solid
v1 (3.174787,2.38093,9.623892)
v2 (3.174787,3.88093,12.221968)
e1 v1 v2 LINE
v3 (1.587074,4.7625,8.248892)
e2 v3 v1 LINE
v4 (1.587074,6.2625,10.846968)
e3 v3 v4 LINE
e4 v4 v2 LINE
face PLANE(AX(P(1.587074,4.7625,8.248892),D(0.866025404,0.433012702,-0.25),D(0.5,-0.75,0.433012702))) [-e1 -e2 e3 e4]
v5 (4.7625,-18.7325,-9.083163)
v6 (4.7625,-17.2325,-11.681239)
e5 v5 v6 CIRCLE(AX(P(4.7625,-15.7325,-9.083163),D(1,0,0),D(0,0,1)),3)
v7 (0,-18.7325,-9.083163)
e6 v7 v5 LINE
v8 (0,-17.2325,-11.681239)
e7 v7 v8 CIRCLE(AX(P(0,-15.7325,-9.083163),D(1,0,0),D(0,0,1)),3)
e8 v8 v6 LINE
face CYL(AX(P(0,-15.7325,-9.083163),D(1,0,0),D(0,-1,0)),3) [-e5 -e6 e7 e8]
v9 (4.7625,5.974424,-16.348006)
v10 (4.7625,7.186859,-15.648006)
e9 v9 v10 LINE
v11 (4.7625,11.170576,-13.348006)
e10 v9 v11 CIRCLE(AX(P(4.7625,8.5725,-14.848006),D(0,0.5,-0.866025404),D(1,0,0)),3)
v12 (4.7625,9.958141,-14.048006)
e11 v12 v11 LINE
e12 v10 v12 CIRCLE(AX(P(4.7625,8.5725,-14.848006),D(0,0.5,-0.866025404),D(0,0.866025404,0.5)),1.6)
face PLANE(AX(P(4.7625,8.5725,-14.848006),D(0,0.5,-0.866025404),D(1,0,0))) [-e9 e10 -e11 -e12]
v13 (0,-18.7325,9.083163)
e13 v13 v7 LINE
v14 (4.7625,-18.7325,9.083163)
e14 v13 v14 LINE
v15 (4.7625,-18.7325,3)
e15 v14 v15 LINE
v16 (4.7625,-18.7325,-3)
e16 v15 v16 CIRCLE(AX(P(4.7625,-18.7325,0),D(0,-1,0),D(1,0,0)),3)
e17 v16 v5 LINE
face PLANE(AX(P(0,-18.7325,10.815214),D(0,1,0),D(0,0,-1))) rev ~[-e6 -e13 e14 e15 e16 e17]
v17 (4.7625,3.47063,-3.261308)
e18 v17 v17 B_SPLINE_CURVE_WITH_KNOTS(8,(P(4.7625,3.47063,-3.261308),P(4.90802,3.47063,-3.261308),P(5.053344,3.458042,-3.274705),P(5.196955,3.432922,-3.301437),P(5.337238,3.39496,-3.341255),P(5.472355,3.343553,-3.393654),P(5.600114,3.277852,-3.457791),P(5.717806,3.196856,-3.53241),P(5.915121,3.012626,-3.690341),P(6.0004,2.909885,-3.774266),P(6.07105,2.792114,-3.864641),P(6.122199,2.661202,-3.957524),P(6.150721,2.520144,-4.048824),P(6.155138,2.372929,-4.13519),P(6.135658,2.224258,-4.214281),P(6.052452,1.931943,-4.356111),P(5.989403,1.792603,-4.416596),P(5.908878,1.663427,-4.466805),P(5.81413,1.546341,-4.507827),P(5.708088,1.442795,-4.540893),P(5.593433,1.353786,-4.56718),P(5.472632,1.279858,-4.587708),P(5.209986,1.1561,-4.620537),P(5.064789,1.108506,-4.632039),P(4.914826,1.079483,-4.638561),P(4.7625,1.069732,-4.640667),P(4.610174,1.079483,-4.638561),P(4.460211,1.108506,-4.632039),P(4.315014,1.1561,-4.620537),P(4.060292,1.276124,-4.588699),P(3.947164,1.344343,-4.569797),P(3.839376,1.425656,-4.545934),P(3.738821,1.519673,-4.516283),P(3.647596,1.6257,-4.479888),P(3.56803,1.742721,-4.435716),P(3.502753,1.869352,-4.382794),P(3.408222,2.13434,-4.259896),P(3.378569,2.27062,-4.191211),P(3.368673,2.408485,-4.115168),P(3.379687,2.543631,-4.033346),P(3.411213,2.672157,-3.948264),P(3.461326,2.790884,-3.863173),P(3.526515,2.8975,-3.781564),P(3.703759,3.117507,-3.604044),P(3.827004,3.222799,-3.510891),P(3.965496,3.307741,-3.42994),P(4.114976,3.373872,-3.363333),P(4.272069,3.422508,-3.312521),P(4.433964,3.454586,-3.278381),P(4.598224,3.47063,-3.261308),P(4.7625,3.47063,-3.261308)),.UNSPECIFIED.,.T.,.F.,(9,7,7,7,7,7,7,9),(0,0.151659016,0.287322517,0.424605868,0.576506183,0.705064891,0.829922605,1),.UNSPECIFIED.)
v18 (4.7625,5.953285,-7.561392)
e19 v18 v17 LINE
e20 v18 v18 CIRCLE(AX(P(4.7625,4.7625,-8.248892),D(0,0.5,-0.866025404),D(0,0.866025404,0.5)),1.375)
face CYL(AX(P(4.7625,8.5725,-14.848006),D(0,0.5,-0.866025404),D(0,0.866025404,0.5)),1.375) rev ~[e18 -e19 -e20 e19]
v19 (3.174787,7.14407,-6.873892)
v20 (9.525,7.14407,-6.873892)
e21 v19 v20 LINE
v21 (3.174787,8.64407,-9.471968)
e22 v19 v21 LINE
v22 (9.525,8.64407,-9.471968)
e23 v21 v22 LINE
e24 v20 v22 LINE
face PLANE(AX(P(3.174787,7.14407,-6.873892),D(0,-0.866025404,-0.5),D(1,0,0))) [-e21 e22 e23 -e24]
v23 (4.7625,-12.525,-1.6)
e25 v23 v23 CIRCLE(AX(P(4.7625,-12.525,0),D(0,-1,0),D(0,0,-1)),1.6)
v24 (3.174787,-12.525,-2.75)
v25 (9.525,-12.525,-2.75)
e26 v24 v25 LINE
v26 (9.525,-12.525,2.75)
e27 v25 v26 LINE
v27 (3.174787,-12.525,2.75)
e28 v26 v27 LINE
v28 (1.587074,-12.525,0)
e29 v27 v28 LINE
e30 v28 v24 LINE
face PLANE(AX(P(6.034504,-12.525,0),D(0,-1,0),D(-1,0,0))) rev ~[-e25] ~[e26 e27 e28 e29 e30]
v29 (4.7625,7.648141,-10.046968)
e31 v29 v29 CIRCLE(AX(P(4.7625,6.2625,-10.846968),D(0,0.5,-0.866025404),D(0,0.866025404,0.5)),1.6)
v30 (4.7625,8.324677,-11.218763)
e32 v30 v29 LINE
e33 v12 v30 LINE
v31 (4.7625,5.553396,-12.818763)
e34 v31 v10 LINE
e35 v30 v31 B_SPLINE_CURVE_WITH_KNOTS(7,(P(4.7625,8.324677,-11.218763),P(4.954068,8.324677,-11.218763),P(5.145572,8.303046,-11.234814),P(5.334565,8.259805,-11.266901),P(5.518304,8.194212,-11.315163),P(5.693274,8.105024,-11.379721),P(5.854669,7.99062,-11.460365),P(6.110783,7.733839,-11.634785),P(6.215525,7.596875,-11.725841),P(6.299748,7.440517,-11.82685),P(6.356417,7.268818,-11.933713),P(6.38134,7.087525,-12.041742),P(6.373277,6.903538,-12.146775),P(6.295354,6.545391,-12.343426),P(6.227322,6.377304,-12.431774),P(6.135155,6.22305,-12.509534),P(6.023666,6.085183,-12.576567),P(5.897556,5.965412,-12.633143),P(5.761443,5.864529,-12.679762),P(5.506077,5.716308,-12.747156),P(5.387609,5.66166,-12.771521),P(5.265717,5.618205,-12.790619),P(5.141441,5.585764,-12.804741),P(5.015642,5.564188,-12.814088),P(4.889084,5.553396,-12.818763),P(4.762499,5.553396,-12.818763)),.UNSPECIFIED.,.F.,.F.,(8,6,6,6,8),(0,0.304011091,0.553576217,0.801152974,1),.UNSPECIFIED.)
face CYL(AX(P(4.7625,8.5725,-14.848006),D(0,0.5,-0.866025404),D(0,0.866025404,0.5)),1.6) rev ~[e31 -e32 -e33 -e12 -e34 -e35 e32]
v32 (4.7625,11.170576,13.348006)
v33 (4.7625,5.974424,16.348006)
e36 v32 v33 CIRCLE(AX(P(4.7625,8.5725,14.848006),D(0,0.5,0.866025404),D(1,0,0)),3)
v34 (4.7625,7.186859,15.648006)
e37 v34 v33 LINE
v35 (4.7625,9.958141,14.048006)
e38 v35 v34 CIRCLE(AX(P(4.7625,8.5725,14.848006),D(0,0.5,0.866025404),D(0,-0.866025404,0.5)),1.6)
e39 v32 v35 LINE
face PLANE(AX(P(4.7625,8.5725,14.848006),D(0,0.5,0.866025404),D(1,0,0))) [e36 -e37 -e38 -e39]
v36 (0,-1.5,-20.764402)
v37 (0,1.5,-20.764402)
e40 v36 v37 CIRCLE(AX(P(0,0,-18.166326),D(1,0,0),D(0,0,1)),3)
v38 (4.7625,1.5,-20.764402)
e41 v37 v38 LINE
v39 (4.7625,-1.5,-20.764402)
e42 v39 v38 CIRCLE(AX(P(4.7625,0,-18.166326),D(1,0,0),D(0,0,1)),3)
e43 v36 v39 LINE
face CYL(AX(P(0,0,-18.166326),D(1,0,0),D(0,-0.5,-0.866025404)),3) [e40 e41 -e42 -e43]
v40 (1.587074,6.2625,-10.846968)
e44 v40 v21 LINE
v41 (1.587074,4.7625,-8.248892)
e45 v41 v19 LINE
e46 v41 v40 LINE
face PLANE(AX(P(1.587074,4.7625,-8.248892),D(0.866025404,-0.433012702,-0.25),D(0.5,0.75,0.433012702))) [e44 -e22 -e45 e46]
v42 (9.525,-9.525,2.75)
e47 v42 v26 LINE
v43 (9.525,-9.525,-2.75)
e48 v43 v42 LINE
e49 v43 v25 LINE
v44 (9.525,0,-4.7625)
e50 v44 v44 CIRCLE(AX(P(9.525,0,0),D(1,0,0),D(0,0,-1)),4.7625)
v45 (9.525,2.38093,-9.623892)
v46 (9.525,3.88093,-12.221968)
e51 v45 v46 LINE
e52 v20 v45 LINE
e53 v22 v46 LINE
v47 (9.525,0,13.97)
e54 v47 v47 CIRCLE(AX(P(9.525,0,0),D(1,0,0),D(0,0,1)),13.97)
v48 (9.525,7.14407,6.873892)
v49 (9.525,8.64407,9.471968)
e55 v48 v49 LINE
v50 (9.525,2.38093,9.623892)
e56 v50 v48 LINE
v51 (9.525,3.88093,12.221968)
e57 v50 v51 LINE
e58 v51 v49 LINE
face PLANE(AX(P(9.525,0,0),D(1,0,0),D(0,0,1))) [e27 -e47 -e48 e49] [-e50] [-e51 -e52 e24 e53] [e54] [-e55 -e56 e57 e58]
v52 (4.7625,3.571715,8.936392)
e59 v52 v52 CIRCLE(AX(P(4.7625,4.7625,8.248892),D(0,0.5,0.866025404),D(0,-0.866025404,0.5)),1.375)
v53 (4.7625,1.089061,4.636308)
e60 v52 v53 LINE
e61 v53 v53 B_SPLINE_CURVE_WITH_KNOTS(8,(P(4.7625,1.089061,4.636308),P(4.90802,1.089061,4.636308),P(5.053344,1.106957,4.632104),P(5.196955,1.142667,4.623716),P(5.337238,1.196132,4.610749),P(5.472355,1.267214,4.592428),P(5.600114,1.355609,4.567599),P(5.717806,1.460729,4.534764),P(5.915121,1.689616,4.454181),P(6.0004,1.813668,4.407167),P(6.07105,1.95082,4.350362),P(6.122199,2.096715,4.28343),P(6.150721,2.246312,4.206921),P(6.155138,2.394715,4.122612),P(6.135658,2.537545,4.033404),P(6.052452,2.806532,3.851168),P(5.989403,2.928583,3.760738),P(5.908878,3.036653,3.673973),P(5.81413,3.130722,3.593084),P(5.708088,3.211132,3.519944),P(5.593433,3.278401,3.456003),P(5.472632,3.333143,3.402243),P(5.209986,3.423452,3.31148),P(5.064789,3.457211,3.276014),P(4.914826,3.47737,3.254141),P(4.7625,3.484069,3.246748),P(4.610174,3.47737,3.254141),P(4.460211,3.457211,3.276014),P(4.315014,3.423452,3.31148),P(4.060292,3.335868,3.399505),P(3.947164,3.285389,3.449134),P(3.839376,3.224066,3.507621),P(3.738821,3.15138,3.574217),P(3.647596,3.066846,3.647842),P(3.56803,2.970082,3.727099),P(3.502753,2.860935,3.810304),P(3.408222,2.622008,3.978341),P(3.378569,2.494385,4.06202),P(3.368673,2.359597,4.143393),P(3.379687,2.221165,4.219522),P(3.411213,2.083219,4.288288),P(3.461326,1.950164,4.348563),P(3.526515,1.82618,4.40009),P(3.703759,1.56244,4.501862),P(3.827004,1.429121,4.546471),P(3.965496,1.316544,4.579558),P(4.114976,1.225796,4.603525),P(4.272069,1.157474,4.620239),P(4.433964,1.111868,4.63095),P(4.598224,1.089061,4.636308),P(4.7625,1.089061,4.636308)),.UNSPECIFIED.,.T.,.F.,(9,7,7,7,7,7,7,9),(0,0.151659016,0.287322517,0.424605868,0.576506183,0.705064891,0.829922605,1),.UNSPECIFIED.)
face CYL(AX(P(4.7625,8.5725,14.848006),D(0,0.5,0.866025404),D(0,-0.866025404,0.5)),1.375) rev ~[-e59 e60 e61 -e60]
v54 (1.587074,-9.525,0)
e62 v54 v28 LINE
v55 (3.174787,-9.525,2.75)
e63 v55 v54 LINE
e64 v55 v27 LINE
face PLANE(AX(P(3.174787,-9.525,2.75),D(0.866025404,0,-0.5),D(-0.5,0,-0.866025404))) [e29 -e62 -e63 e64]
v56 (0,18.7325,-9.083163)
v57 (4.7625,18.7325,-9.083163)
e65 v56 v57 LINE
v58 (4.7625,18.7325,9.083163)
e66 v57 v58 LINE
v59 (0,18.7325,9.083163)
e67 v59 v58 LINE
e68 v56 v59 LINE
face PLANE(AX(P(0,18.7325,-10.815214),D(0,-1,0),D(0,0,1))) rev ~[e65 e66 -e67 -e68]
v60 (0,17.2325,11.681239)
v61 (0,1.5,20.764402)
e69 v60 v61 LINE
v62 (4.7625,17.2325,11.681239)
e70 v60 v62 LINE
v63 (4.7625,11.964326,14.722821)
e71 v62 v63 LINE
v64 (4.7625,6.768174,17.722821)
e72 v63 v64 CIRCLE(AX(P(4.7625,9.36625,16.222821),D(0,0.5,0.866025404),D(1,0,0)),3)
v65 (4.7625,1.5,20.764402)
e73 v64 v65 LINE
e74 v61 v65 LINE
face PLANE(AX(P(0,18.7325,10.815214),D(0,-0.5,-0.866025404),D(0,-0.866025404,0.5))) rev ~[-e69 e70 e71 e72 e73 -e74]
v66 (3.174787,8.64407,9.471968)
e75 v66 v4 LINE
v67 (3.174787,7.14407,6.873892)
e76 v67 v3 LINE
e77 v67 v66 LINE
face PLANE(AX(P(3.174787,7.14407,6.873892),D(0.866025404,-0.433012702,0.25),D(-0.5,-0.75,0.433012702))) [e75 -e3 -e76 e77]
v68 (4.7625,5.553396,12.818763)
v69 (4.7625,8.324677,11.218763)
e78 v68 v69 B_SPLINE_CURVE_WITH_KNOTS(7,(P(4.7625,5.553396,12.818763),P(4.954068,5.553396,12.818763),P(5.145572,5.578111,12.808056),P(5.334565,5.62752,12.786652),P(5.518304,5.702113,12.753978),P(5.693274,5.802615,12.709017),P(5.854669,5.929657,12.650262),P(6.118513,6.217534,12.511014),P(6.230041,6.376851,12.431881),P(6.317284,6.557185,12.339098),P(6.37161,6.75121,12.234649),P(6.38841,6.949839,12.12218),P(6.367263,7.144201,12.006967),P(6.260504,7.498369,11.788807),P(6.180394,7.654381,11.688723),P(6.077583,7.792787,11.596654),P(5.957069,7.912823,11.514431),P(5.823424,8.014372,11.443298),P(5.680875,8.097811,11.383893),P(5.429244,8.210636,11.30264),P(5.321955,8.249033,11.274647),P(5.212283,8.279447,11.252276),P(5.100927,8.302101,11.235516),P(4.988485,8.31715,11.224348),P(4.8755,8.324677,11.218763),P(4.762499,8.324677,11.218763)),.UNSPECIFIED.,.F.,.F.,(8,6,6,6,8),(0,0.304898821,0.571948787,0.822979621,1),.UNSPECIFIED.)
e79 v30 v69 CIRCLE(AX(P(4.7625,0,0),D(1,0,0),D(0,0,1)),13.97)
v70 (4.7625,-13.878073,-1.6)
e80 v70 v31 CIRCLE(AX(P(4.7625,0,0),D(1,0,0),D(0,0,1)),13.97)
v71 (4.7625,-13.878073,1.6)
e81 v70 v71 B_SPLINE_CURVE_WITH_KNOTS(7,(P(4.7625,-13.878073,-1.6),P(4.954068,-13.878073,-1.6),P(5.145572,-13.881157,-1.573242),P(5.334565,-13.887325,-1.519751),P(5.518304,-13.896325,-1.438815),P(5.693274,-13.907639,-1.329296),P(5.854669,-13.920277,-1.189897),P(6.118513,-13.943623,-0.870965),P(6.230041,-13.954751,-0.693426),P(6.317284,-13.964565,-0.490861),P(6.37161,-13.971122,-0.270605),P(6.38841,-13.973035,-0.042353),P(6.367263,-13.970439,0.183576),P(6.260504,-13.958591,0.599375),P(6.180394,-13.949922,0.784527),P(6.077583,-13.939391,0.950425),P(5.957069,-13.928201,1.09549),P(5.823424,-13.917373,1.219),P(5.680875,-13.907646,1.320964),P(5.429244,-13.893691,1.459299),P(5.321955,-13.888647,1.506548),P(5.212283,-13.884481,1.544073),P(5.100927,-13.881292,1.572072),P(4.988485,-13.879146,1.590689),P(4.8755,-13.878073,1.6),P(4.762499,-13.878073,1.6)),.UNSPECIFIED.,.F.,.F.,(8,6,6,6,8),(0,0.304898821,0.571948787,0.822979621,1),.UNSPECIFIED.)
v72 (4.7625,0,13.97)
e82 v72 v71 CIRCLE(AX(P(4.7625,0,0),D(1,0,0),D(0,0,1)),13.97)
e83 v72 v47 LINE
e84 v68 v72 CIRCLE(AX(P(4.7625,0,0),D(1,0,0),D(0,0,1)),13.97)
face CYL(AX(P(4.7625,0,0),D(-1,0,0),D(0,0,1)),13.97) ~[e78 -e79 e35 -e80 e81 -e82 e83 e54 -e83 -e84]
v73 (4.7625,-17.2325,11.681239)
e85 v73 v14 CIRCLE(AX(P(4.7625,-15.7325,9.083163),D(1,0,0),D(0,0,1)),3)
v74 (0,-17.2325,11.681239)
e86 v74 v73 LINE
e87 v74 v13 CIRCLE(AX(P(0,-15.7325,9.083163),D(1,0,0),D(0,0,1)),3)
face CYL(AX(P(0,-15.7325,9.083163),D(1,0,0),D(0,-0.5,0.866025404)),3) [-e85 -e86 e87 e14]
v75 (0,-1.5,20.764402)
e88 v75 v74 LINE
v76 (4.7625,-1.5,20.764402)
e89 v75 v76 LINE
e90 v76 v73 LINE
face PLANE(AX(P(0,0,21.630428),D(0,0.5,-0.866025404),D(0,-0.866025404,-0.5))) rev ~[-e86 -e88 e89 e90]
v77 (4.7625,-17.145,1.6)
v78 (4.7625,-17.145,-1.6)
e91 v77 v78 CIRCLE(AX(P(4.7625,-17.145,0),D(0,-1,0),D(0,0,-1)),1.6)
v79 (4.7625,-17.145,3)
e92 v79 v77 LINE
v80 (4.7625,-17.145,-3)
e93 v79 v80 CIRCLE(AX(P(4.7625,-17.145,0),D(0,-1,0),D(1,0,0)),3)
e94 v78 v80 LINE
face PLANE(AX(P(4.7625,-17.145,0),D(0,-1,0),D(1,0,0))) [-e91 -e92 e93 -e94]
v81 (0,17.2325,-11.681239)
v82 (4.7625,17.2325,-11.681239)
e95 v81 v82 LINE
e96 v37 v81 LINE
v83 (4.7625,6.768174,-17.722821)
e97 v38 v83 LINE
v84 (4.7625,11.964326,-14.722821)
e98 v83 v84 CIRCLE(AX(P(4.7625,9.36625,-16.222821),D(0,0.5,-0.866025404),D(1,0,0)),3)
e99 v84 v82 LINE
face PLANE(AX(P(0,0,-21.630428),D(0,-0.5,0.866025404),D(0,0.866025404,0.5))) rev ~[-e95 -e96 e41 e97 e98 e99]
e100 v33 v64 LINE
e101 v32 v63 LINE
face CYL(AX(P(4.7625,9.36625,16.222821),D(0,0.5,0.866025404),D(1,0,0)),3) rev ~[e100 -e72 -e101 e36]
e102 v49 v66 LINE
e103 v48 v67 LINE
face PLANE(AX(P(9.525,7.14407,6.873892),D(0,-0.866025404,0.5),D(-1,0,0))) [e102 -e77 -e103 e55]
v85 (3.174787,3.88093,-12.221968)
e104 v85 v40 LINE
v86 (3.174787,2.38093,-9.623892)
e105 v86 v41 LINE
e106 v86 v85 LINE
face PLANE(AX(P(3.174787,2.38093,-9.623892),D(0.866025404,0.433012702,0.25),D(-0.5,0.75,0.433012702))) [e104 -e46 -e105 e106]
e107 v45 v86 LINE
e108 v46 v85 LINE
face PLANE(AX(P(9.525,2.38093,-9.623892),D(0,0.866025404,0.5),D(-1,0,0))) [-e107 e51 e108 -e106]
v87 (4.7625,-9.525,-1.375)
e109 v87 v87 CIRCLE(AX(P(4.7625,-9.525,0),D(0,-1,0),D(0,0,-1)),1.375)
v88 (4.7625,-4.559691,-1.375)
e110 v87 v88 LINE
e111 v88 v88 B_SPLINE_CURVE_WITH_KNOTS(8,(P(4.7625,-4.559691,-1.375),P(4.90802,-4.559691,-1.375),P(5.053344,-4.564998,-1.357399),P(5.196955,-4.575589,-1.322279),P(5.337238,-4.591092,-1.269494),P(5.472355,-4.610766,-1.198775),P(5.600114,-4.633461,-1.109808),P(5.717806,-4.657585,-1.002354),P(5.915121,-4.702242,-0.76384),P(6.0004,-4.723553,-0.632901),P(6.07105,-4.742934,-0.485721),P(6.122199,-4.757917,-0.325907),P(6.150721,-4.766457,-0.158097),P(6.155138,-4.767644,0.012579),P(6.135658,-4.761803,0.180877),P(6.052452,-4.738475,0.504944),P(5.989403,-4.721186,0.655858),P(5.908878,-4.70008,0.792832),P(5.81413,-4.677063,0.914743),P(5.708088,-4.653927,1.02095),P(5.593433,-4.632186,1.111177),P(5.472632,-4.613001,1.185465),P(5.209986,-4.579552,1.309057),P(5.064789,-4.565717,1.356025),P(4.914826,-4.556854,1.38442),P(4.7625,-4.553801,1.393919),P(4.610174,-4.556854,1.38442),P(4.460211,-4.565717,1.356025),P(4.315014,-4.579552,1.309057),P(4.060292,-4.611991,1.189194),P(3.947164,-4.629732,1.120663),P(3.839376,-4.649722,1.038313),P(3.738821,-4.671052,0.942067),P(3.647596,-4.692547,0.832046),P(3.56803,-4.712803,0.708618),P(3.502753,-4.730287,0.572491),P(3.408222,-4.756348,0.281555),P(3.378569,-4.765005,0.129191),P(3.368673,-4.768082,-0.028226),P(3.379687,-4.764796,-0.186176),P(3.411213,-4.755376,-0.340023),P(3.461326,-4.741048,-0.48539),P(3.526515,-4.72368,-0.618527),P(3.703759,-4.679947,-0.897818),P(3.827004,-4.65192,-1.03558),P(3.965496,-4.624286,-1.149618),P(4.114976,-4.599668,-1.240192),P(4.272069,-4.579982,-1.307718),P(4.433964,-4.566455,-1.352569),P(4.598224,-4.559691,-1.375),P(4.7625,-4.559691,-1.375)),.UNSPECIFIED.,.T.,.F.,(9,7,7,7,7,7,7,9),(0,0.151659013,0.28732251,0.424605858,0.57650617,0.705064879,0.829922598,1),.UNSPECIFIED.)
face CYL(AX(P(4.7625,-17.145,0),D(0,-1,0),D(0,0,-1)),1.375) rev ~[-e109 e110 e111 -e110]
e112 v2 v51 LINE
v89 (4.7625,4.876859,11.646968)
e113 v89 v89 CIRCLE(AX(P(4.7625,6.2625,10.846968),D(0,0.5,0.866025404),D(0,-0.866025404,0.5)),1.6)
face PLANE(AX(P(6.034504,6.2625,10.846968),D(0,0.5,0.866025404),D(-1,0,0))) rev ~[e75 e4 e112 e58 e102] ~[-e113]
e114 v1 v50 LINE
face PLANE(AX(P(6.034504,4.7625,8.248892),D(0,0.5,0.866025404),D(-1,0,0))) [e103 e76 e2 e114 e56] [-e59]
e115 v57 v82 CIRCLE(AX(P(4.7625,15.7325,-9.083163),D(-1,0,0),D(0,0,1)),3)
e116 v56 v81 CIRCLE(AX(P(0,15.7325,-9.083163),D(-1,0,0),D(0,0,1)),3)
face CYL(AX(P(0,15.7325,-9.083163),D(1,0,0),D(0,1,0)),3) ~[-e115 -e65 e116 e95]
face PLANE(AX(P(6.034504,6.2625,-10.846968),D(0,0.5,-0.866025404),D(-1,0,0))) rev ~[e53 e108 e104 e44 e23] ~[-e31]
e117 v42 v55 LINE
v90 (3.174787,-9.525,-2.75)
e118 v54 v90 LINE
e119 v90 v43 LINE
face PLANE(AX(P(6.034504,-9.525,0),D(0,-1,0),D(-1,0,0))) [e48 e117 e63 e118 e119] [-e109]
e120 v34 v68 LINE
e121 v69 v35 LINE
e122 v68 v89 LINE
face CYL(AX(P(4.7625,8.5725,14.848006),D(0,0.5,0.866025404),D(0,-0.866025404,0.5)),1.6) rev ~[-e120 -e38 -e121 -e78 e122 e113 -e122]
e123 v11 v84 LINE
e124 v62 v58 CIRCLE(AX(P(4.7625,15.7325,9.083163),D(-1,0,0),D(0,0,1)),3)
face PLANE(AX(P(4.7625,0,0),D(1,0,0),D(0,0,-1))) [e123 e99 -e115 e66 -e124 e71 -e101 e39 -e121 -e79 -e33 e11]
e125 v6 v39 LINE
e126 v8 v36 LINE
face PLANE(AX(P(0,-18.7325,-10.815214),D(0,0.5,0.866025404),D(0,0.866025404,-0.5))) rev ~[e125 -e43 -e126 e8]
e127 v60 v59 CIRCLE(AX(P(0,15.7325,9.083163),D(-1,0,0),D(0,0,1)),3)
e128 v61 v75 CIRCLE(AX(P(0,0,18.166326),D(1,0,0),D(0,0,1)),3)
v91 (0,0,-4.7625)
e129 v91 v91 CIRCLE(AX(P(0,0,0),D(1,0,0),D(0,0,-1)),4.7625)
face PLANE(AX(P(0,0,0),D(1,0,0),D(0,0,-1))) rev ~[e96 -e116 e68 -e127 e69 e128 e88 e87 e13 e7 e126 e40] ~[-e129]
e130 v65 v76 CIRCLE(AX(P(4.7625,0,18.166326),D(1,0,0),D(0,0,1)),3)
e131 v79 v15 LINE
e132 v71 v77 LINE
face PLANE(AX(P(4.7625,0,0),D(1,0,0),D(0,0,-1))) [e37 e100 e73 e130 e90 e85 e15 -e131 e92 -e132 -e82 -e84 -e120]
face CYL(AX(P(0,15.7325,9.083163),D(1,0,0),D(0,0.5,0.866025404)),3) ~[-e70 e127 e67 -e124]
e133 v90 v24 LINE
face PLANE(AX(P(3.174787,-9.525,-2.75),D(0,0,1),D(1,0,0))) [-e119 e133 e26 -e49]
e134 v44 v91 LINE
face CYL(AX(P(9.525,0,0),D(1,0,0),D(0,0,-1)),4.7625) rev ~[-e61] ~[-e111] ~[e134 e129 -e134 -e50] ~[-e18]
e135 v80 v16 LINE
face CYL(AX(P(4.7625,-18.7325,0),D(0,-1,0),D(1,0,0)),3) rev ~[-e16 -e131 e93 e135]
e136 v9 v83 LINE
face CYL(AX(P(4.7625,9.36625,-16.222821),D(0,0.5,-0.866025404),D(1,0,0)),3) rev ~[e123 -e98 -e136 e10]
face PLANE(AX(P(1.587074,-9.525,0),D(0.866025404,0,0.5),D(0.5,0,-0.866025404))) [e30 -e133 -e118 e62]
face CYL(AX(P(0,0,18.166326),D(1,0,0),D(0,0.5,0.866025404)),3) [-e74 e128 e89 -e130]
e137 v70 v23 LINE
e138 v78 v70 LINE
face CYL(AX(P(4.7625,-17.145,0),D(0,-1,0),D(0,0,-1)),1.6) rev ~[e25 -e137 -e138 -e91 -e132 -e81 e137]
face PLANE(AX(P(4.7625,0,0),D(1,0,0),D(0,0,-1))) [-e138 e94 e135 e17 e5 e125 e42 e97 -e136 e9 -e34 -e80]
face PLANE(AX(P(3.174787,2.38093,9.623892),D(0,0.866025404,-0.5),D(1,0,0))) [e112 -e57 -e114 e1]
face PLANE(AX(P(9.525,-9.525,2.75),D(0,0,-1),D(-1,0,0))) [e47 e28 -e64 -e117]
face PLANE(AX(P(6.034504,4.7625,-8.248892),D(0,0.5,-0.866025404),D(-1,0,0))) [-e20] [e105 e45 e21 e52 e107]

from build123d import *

# Parameters (mm, degrees)
BOSS_EXTRUDE1_DEPTH = 4.7625
SKETCH2_R           = 13.97
BOSS_EXTRUDE2_DEPTH = 4.7625
SKETCH3_R           = 3
CUT_EXTRUDE1_DEPTH  = 1.5875
CUT_EXTRUDE4_START  = 9.525
CUT_EXTRUDE4_DEPTH  = 3
CUT_EXTRUDE2_REACH  = 44.963
SKETCH4_R           = 1.6
SKETCH5_R           = 1.375
CUT_EXTRUDE3_DEPTH  = 12.7
CIRPATTERN3_COUNT   = 3
FILLET1_R           = 3
SKETCH7_R           = 4.7625
F_3_8IN_ROUND_DEPTH = 30.826926541


with BuildPart() as part:
    # Sketch1 → Boss-Extrude1 (new body)
    with BuildSketch(Plane(origin=(0, 0, 0), x_dir=(0, 0, -1), z_dir=(1, 0, 0))):
        Polygon((-10.815213918, 18.7325), (-21.630427835, 0), (-10.815213918, -18.7325), (10.815213918, -18.7325), (21.630427835, 0), (10.815213918, 18.7325), align=None)
    extrude(amount=BOSS_EXTRUDE1_DEPTH)

    # Sketch2 → Boss-Extrude2 (add)
    with BuildSketch(Plane(origin=(4.7625, 0, 0), x_dir=(0, 0, -1), z_dir=(1, 0, 0))):
        with Locations(Location((0, 0, 0), (0, 0, 180))):
            Circle(SKETCH2_R)
    extrude(amount=BOSS_EXTRUDE2_DEPTH)

    # Sketch3 → Cut-Extrude1 (cut)
    with BuildSketch(Plane.XZ.offset(18.7325)):
        with Locations((4.7625, 0)):
            Circle(SKETCH3_R)
    cut_extrude1 = extrude(amount=-CUT_EXTRUDE1_DEPTH, mode=Mode.SUBTRACT)

    # Sketch6 → Cut-Extrude4 (cut)
    with BuildSketch(Plane(origin=(0, 0, 0), x_dir=(-1, 0, 0), z_dir=(0, -1, 0)).offset(CUT_EXTRUDE4_START)):
        Polygon((-6.35021324, 2.75), (-9.525, 2.75), (-9.525, -2.75), (-6.35021324, -2.75), (-3.17478676, -2.75), (-1.587073519, 0), (-3.17478676, 2.75), align=None)
    cut_extrude4 = extrude(amount=CUT_EXTRUDE4_DEPTH, mode=Mode.SUBTRACT)

    # Cut-Extrude2: up to this face of the body (flat: up to its plane)
    cut_extrude2_end = Plane(part.part.faces().sort_by_distance((5.938262705, -9.525, 0))[0])
    # Sketch4 → Cut-Extrude2 (cut, up to the picked face)
    with BuildSketch(Plane.XZ.offset(17.145), mode=Mode.PRIVATE) as cut_extrude2_sk1:
        with Locations(Location((4.7625, 0, 0), (0, 0, 270))):
            Circle(SKETCH4_R)
    cut_extrude2_tool1 = split(extrude(cut_extrude2_sk1.sketch, amount=-CUT_EXTRUDE2_REACH, mode=Mode.PRIVATE), bisect_by=cut_extrude2_end, keep=Keep.BOTH, mode=Mode.PRIVATE)
    cut_extrude2 = cut_extrude2_tool1.solids().sort_by(Axis((4.7625, -17.145, 0), (0, 1, 0)))[0]
    add(cut_extrude2, mode=Mode.SUBTRACT)

    # Sketch5 → Cut-Extrude3 (cut)
    with BuildSketch(Plane.XZ.offset(17.145)):
        with Locations(Location((4.7625, 0, 0), (0, 0, 270))):
            Circle(SKETCH5_R)
    cut_extrude3 = extrude(amount=-CUT_EXTRUDE3_DEPTH, mode=Mode.SUBTRACT)

    # CirPattern3: Cut-Extrude1, Cut-Extrude4, Cut-Extrude2, Cut-Extrude3 ×3 about axis
    cirpattern3_axis = Axis((0, 0, 0), (1, 0, 0))
    add([cut_extrude1.rotate(cirpattern3_axis, i * 360 / CIRPATTERN3_COUNT) for i in range(1, CIRPATTERN3_COUNT)], mode=Mode.SUBTRACT)
    add([cut_extrude4.rotate(cirpattern3_axis, i * 360 / CIRPATTERN3_COUNT) for i in range(1, CIRPATTERN3_COUNT)], mode=Mode.SUBTRACT)
    add([cut_extrude2.rotate(cirpattern3_axis, i * 360 / CIRPATTERN3_COUNT) for i in range(1, CIRPATTERN3_COUNT)], mode=Mode.SUBTRACT)
    add([cut_extrude3.rotate(cirpattern3_axis, i * 360 / CIRPATTERN3_COUNT) for i in range(1, CIRPATTERN3_COUNT)], mode=Mode.SUBTRACT)

    # Fillet1
    fillet1_edges = [part.edges().sort_by_distance(p)[0] for p in [
        (2.38125, 18.7325, -10.815213918),
        (2.38125, 0, -21.630427835),
        (2.38125, -18.7325, -10.815213918),
        (2.38125, -18.7325, 10.815213918),
        (2.38125, 0, 21.630427835),
        (2.38125, 18.7325, 10.815213918),
    ]]
    fillet(fillet1_edges, radius=FILLET1_R)

    # Sketch7 → 3/8in Round (cut, through all)
    with BuildSketch(Plane(origin=(9.525, 0, 0), x_dir=(0, 0, -1), z_dir=(1, 0, 0))):
        Circle(SKETCH7_R)
    extrude(amount=-F_3_8IN_ROUND_DEPTH, mode=Mode.SUBTRACT)


solid = part.part
